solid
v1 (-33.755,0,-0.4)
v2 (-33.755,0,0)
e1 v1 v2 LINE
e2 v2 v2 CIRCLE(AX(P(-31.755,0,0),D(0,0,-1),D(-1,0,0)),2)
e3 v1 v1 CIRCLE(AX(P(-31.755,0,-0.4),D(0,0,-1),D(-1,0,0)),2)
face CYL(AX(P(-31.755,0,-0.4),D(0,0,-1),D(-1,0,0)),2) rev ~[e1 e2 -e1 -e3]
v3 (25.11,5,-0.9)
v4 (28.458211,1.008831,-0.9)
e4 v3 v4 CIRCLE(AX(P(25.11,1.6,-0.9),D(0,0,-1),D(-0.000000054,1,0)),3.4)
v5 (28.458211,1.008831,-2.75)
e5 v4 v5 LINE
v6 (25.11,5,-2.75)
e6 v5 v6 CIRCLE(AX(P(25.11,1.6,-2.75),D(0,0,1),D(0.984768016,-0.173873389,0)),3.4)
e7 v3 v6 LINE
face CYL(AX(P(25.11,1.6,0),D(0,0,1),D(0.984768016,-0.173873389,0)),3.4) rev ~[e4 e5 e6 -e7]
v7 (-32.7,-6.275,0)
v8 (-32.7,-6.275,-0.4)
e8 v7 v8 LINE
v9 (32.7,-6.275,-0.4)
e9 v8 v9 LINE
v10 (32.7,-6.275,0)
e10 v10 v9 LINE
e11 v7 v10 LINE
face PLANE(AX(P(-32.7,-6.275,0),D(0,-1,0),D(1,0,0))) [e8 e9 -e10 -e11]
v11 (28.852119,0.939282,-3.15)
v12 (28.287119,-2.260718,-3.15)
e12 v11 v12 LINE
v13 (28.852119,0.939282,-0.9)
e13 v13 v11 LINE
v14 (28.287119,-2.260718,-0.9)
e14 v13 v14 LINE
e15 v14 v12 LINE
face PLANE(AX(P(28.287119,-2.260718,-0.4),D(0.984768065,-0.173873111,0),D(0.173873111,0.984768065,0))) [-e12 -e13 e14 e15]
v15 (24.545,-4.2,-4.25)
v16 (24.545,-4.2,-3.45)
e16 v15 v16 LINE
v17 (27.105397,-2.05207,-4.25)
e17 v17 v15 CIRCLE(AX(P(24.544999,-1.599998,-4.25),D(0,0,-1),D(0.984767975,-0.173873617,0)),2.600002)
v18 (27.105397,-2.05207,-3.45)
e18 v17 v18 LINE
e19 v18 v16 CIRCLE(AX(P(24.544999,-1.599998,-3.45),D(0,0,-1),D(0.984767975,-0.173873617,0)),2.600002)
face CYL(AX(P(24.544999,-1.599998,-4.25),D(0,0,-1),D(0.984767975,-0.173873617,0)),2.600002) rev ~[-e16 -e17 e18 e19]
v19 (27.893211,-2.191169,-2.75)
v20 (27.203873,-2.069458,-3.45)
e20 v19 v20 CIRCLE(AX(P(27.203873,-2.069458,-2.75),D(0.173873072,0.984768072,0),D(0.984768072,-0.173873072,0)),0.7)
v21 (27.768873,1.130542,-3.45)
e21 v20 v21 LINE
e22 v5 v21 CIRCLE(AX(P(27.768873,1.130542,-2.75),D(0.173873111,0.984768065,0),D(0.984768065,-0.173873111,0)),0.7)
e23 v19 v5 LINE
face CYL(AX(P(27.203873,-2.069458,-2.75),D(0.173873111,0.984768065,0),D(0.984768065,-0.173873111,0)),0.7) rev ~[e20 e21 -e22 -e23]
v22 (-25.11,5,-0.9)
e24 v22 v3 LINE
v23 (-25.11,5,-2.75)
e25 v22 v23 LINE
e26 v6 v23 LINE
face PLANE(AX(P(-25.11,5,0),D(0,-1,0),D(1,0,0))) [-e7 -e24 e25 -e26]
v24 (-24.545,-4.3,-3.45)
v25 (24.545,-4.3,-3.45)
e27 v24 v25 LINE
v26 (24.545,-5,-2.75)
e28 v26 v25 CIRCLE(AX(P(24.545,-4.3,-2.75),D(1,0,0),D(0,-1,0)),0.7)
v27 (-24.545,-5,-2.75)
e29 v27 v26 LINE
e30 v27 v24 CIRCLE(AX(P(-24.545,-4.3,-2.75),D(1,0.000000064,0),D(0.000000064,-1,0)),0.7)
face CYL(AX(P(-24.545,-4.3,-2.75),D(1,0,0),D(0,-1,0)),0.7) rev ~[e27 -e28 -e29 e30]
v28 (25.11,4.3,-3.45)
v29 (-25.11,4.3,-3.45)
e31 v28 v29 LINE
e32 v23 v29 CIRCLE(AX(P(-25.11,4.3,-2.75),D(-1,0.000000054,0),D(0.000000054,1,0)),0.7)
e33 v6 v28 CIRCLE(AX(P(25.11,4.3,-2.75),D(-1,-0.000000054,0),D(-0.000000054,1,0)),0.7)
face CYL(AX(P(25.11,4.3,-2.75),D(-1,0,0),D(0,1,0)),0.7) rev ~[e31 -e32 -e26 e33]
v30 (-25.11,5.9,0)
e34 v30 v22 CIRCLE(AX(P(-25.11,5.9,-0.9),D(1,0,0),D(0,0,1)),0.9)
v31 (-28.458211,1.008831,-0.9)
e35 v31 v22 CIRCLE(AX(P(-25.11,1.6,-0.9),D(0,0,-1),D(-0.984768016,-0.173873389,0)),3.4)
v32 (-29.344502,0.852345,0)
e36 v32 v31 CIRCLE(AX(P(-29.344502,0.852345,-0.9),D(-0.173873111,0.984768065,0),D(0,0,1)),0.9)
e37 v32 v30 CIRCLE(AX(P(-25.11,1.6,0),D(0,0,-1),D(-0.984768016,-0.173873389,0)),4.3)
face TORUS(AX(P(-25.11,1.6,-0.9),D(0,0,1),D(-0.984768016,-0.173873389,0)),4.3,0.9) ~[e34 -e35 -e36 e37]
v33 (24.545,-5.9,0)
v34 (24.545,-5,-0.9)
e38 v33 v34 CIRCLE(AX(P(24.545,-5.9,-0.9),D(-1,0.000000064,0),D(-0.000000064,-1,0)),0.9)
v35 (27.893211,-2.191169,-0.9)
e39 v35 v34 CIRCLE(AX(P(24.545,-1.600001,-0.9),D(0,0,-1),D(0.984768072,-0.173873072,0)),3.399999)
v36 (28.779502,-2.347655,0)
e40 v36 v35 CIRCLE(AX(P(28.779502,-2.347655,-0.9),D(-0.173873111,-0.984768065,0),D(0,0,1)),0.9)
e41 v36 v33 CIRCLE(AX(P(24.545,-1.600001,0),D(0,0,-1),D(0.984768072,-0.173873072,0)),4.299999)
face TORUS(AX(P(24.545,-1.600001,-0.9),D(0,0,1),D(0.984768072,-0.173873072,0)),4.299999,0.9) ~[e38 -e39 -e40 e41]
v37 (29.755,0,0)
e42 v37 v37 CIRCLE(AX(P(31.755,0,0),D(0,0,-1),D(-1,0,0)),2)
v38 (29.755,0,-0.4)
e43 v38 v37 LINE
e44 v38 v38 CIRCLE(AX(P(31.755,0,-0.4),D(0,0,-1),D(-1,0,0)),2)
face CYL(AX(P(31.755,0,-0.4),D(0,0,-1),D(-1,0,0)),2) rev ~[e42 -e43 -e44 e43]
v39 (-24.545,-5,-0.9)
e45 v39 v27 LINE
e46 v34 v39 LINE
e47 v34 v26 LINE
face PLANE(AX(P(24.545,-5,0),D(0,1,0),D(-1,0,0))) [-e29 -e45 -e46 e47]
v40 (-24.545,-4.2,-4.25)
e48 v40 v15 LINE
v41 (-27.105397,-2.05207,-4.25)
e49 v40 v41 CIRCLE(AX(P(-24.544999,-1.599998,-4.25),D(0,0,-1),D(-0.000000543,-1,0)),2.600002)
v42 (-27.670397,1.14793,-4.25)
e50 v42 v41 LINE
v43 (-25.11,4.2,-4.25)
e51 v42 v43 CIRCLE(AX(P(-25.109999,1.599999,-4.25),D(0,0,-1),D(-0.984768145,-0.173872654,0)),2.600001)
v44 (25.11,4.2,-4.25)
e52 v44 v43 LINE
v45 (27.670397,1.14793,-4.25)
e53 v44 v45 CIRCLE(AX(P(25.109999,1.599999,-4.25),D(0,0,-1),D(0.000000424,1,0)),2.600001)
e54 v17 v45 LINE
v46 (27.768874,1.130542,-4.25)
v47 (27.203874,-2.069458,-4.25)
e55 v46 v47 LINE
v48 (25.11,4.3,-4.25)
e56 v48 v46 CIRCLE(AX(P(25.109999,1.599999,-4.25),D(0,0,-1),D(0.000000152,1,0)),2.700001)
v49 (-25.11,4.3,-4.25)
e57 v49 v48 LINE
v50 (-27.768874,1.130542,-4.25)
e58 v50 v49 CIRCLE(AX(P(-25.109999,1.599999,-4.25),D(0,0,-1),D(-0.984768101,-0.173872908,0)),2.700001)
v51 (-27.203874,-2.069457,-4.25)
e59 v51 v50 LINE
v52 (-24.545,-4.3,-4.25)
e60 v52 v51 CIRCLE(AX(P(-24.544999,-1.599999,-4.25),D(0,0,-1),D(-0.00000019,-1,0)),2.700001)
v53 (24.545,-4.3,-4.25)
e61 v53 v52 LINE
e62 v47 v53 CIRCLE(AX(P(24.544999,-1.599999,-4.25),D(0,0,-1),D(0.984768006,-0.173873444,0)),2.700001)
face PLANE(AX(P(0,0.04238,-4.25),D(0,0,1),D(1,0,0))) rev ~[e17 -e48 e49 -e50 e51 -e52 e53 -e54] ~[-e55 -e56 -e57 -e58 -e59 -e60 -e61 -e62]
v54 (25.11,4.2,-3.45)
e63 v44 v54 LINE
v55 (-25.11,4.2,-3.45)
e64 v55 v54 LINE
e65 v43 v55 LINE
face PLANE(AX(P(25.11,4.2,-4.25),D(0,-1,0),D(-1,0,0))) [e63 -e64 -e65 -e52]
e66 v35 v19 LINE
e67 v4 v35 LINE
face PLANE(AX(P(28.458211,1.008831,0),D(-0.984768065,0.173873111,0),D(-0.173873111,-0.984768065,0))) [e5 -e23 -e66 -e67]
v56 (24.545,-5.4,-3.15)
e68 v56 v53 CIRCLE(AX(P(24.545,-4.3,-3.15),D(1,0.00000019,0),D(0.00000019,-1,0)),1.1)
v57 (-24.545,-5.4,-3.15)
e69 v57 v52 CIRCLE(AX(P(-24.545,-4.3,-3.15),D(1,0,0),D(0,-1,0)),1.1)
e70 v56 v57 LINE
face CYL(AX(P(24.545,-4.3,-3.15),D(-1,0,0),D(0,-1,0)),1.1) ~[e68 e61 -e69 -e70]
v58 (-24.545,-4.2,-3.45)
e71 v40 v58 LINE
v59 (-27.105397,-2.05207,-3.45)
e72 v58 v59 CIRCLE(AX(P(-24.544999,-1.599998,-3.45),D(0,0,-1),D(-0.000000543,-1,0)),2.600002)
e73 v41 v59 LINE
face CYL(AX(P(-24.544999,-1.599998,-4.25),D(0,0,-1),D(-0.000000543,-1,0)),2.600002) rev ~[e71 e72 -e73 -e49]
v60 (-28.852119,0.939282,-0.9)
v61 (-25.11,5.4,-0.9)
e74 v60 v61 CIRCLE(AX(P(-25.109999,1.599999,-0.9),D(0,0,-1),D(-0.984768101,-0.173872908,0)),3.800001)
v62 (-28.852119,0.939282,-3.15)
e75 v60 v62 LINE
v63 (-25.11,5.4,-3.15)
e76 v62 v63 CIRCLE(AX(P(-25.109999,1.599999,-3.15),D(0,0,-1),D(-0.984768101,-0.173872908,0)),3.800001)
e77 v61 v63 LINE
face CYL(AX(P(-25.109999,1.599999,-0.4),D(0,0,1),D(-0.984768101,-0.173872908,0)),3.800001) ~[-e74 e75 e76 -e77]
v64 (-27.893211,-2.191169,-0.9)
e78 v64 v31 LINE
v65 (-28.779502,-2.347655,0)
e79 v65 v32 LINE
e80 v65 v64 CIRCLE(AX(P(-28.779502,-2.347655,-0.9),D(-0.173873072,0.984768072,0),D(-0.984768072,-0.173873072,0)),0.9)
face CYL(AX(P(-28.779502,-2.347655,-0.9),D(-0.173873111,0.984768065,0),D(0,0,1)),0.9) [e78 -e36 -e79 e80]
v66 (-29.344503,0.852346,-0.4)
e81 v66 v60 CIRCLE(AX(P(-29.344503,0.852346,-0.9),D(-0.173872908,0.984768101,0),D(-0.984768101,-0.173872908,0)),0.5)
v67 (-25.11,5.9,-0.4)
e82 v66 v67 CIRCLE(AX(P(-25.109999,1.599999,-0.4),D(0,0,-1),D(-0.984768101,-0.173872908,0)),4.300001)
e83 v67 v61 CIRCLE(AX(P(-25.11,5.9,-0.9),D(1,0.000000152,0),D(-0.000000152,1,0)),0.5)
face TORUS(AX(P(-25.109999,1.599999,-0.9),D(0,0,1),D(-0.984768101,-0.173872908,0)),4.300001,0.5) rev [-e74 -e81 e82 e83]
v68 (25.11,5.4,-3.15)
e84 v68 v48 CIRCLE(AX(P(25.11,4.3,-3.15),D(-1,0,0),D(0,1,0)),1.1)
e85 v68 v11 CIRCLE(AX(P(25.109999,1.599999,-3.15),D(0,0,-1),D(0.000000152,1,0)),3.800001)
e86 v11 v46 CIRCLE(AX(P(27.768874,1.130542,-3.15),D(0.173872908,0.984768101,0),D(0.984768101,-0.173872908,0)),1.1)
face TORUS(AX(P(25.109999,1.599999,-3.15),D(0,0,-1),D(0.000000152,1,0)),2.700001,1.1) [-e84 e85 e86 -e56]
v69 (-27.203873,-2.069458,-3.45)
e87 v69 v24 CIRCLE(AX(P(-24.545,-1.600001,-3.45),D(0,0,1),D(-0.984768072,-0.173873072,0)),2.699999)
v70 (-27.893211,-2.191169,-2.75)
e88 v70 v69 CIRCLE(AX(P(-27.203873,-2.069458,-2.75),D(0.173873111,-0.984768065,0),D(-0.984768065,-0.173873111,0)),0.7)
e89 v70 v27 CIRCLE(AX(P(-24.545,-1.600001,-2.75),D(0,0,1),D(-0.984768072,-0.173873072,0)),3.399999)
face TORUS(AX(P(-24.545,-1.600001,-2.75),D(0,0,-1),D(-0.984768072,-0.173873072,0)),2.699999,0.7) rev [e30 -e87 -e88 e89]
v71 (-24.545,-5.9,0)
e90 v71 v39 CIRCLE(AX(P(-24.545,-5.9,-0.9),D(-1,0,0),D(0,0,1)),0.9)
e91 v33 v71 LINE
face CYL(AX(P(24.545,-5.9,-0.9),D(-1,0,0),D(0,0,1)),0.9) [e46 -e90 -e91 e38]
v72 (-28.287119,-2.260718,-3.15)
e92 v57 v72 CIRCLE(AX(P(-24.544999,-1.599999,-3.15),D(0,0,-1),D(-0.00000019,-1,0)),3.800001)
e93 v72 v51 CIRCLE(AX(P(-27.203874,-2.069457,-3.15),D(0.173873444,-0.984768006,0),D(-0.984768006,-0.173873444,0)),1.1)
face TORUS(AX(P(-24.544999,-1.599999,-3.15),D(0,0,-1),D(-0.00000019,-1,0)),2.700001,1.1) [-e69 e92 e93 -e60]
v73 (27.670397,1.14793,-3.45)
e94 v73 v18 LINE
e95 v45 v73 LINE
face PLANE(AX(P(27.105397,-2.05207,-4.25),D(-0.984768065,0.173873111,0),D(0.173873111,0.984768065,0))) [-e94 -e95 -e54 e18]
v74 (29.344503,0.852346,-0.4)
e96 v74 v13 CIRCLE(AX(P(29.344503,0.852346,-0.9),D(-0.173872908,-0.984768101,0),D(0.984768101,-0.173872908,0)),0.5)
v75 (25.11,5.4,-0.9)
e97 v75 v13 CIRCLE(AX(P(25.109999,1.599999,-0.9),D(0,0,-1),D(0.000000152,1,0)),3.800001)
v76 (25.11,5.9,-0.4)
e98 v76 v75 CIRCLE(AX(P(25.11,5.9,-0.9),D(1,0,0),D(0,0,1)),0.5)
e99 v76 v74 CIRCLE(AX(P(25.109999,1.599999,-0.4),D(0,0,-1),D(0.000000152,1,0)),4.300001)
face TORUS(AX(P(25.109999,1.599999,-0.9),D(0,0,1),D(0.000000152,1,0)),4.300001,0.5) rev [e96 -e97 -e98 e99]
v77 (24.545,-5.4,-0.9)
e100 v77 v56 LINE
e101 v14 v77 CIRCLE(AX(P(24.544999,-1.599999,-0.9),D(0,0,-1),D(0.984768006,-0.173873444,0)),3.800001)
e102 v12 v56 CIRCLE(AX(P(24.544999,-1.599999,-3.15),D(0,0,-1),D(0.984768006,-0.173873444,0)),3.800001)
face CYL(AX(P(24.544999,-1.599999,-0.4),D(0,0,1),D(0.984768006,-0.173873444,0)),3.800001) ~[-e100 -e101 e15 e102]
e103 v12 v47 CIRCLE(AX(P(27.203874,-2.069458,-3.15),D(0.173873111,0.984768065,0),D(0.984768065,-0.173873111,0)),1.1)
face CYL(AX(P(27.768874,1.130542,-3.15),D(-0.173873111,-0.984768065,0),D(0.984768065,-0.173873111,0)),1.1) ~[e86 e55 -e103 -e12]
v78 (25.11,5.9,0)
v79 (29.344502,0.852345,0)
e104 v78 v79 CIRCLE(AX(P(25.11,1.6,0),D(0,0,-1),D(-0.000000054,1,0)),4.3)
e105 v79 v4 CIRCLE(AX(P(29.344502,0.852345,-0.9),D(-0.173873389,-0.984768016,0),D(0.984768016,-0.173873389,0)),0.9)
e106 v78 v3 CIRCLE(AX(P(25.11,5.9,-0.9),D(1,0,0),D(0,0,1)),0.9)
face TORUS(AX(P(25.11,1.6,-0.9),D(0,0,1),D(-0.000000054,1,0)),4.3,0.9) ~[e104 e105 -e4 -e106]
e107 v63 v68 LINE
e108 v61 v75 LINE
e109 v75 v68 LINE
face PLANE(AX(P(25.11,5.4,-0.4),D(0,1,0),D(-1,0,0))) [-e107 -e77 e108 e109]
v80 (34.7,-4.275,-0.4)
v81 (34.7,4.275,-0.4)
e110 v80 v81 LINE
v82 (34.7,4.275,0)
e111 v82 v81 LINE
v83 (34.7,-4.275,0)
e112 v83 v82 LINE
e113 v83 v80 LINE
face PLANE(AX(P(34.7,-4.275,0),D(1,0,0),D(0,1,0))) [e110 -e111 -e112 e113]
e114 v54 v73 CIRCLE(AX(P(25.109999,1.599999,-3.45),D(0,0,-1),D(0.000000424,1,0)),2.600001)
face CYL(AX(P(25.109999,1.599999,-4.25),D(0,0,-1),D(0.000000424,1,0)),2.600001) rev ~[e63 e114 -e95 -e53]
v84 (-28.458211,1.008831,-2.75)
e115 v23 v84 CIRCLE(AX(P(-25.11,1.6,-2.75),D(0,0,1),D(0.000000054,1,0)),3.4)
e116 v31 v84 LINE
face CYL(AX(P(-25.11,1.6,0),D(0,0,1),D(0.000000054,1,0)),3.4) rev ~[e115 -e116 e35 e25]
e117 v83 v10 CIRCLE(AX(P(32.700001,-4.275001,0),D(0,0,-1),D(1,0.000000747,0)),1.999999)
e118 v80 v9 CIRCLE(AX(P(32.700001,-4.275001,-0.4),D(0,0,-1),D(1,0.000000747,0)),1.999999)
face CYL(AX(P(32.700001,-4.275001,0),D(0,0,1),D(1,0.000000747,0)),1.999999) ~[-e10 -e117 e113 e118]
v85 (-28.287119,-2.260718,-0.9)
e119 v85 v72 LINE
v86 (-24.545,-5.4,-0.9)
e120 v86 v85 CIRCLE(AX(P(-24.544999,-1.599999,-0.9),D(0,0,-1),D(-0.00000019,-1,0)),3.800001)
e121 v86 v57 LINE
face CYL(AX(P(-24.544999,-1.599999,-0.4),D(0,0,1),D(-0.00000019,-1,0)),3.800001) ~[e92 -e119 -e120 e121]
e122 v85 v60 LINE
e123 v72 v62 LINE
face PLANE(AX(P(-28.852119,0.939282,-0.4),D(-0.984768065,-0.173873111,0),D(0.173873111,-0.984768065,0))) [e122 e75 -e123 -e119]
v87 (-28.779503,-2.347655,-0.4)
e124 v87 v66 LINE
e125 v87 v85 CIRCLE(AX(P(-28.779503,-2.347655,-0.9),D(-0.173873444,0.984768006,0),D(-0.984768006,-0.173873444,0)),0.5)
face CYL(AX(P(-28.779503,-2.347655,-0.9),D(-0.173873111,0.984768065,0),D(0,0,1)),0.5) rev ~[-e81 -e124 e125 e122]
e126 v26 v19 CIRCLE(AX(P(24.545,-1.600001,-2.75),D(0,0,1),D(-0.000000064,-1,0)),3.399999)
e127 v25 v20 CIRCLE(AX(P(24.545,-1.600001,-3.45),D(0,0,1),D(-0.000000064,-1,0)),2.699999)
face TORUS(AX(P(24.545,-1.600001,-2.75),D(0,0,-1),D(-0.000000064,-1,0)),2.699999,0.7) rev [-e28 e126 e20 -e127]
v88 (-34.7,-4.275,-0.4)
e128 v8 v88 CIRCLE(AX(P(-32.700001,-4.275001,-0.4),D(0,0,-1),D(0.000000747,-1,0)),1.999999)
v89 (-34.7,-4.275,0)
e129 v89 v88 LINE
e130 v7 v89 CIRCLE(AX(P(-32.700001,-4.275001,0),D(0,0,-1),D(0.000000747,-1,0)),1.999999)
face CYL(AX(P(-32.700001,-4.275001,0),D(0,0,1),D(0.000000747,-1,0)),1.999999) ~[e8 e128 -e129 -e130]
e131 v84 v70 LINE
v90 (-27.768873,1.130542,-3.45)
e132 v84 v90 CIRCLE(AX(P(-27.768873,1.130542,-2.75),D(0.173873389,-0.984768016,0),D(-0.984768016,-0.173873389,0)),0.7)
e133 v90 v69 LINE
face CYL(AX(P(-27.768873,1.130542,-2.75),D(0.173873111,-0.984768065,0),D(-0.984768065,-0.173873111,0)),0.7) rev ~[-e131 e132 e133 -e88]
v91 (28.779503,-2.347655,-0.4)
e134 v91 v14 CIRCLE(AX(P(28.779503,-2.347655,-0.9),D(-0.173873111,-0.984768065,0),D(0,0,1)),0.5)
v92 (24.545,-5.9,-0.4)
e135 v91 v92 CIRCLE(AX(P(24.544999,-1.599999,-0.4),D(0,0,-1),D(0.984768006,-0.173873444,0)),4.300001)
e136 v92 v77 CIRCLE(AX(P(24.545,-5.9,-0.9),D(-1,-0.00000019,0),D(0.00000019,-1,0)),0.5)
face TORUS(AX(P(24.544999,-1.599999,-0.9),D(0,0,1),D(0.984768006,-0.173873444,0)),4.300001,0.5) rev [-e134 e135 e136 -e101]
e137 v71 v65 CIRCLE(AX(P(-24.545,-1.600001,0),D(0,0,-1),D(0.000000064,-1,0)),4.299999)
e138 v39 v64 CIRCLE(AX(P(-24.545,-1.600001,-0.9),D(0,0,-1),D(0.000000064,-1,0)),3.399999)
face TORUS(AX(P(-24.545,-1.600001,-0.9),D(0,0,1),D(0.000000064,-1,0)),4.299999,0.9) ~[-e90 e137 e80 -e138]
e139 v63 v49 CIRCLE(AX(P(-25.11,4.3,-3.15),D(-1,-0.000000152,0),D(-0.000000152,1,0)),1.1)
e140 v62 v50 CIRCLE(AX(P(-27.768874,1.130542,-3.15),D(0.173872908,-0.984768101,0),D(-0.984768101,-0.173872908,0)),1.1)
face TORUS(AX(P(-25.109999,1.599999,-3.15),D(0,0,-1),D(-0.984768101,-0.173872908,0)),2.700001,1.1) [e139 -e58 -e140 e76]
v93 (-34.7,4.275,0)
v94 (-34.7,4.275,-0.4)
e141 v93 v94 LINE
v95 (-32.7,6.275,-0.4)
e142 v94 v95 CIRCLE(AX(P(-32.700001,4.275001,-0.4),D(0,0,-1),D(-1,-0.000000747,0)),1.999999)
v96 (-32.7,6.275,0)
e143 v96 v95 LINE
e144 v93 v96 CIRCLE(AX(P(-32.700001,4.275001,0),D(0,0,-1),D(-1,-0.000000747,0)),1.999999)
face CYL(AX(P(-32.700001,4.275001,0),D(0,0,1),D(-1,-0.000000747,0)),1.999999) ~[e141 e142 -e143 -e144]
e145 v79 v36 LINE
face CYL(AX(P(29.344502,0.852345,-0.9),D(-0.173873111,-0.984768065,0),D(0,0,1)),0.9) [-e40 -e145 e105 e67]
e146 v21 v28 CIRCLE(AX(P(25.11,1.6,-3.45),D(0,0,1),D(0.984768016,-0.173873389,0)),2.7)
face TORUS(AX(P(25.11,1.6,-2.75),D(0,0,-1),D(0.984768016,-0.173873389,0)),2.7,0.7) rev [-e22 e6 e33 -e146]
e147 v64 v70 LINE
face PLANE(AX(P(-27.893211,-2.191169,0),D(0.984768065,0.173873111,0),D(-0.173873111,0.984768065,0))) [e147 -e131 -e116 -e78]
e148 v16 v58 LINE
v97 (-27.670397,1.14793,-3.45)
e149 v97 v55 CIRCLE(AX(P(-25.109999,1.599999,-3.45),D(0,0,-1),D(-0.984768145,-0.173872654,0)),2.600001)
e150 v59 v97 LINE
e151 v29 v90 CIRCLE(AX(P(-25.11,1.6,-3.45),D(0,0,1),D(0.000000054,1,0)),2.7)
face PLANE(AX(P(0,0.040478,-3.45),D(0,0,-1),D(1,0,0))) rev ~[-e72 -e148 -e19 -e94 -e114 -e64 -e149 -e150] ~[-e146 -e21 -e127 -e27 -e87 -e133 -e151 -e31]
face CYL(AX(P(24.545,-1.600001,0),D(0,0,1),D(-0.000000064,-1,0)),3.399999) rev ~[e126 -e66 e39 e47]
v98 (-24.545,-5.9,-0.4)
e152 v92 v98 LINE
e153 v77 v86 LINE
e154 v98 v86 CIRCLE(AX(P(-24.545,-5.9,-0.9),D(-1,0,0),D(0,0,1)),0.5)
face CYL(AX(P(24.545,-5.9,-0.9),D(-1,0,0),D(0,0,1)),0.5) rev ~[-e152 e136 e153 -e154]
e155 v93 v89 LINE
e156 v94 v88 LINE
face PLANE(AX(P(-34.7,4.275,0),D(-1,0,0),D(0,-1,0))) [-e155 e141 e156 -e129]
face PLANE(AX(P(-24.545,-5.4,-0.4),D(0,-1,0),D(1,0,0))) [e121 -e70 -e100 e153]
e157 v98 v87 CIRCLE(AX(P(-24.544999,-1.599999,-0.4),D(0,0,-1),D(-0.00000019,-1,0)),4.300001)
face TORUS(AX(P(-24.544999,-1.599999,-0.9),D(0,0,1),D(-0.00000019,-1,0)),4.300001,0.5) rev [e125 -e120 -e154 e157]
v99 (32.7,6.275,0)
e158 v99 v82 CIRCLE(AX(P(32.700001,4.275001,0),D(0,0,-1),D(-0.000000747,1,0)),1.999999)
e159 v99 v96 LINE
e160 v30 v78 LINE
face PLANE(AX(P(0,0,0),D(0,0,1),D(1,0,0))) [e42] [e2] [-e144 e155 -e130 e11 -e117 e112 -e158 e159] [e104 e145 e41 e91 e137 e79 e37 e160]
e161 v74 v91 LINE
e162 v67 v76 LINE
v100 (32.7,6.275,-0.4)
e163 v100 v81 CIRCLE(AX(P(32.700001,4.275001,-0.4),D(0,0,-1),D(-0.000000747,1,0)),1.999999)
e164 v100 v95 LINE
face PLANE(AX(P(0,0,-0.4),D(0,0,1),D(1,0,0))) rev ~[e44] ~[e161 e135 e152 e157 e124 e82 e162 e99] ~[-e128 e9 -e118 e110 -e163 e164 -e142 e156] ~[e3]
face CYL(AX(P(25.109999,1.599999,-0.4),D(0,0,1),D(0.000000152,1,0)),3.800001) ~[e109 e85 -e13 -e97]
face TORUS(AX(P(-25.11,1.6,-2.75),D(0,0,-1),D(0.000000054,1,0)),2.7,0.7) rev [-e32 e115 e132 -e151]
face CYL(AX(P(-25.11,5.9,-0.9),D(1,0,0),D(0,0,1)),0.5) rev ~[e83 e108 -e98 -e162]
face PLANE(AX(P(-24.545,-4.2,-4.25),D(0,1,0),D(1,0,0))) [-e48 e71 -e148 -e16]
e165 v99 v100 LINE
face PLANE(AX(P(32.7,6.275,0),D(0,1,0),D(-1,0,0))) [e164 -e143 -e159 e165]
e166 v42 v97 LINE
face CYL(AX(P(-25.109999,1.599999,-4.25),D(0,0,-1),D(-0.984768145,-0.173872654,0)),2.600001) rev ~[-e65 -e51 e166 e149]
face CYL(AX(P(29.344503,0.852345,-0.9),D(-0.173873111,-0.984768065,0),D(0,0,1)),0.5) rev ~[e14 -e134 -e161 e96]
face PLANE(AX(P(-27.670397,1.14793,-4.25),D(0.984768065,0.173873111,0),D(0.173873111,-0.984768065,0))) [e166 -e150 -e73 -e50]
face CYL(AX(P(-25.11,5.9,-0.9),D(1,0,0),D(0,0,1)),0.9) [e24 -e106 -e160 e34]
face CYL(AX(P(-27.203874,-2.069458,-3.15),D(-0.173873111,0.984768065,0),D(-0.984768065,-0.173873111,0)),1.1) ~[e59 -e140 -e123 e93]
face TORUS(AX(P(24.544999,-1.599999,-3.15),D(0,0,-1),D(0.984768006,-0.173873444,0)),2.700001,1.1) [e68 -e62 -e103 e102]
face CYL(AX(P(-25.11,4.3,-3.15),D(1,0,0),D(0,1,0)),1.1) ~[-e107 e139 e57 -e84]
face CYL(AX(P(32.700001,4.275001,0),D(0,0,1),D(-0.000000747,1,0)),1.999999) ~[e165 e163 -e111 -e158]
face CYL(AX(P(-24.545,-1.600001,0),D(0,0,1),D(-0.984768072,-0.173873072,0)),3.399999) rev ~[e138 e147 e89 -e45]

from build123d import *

# Parameters (mm, degrees)
PAD002_DEPTH            = 0.4
SKETCH005_R             = 2
POCKET002_DEPTH         = 5
PAD003_DEPTH            = 3.85
POCKET003_DEPTH         = 4.251
POCKET004_DEPTH         = 3.45
FILLET003_R             = 0.7
FILLET004_R             = 0.5
FILLET005_R             = 1.1
FILLET006_R             = 0.9
BODY001_PLACEMENT_ANGLE = 180


with BuildPart() as part:
    # Sketch004 → Pad002 (new body)
    with BuildSketch(Plane.XY):
        with BuildLine():
            Line((-32.7, 6.275), (32.7, 6.275))
            ThreePointArc((34.7, 4.275), (34.114214, 5.689214), (32.7, 6.275))
            Line((34.7, 4.275), (34.7, -4.275))
            ThreePointArc((32.7, -6.275), (34.114214, -5.689214), (34.7, -4.275))
            Line((32.7, -6.275), (-32.7, -6.275))
            ThreePointArc((-34.7, -4.275), (-34.114214, -5.689214), (-32.7, -6.275))
            Line((-34.7, -4.275), (-34.7, 4.275))
            ThreePointArc((-32.7, 6.275), (-34.114214, 5.689214), (-34.7, 4.275))
        make_face()
    extrude(amount=PAD002_DEPTH)

    # Sketch005 (on Face10 of Pad002) → Pocket002 (cut)
    with BuildSketch(Plane.XY.offset(0.4)):
        with Locations((-31.755, 0)):
            Circle(SKETCH005_R)
        with Locations((31.755, 0)):
            Circle(SKETCH005_R)
    extrude(amount=-POCKET002_DEPTH, mode=Mode.SUBTRACT)

    # Sketch006 (on Face5 of Pocket002) → Pad003 (join)
    with BuildSketch(Plane.XY.offset(0.4)):
        with BuildLine():
            Line((-25.11, 5.4), (25.11, 5.4))
            ThreePointArc((28.852119, 0.939282), (28.021248, 4.04226), (25.11, 5.4))
            Line((28.852119, 0.939282), (28.287119, -2.260718))
            ThreePointArc((24.545, -5.4), (26.98726, -4.511248), (28.287119, -2.260718))
            Line((24.545, -5.4), (-24.545, -5.4))
            ThreePointArc((-28.287119, -2.260718), (-26.98726, -4.511248), (-24.545, -5.4))
            Line((-28.287119, -2.260718), (-28.852119, 0.939282))
            ThreePointArc((-25.11, 5.4), (-28.021248, 4.04226), (-28.852119, 0.939282))
        make_face()
    extrude(amount=PAD003_DEPTH)

    # Sketch007 (on Face21 of Pad003) → Pocket003 (cut, through all)
    with BuildSketch(Plane.XY.offset(4.25)):
        with BuildLine():
            Line((-25.11, 4.2), (25.11, 4.2))
            ThreePointArc((27.670397, 1.14793), (27.101906, 3.27102), (25.11, 4.2))
            Line((27.670397, 1.14793), (27.105397, -2.05207))
            ThreePointArc((24.545, -4.2), (26.21602, -3.591906), (27.105397, -2.05207))
            Line((24.545, -4.2), (-24.545, -4.2))
            ThreePointArc((-27.105397, -2.05207), (-26.21602, -3.591906), (-24.545, -4.2))
            Line((-27.105397, -2.05207), (-27.670397, 1.14793))
            ThreePointArc((-25.11, 4.2), (-27.101906, 3.27102), (-27.670397, 1.14793))
        make_face()
    extrude(amount=-POCKET003_DEPTH, mode=Mode.SUBTRACT)

    # Sketch008 (on Face4 of Pocket003) → Pocket004 (cut)
    with BuildSketch(Plane(origin=(0, 0, 0), x_dir=(1, 0, 0), z_dir=(0, 0, -1))):
        with BuildLine():
            Line((-24.545, 5), (24.545, 5))
            ThreePointArc((27.893211, 2.191169), (26.73018, 4.204801), (24.545, 5))
            Line((27.893211, 2.191169), (28.458211, -1.008831))
            ThreePointArc((25.11, -5), (27.714801, -3.78518), (28.458211, -1.008831))
            Line((25.11, -5), (-25.11, -5))
            ThreePointArc((-28.458211, -1.008831), (-27.714801, -3.78518), (-25.11, -5))
            Line((-28.458211, -1.008831), (-27.893211, 2.191169))
            ThreePointArc((-24.545, 5), (-26.73018, 4.204801), (-27.893211, 2.191169))
        make_face()
    extrude(amount=-POCKET004_DEPTH, mode=Mode.SUBTRACT)

    # Fillet003
    fillet003_edges = [part.edges().sort_by_distance(p)[0] for p in [
        (27.714801, 3.78518, 3.45),
    ]]
    fillet(fillet003_edges, radius=FILLET003_R)

    # Fillet004
    fillet004_edges = [part.edges().sort_by_distance(p)[0] for p in [
        (28.021248, 4.04226, 0.4),
    ]]
    fillet(fillet004_edges, radius=FILLET004_R)

    # Fillet005
    fillet005_edges = [part.edges().sort_by_distance(p)[0] for p in [
        (28.021248, 4.04226, 4.25),
    ]]
    fillet(fillet005_edges, radius=FILLET005_R)

    # Fillet006
    fillet006_edges = [part.edges().sort_by_distance(p)[0] for p in [
        (0, 5, 0),
    ]]
    fillet(fillet006_edges, radius=FILLET006_R)


with BuildPart() as part_1:
    # Body001 placement: moved
    add(part.part.rotate(Axis((0, 0, 0), (0, 1, 0)), BODY001_PLACEMENT_ANGLE))


solid = part_1.part
